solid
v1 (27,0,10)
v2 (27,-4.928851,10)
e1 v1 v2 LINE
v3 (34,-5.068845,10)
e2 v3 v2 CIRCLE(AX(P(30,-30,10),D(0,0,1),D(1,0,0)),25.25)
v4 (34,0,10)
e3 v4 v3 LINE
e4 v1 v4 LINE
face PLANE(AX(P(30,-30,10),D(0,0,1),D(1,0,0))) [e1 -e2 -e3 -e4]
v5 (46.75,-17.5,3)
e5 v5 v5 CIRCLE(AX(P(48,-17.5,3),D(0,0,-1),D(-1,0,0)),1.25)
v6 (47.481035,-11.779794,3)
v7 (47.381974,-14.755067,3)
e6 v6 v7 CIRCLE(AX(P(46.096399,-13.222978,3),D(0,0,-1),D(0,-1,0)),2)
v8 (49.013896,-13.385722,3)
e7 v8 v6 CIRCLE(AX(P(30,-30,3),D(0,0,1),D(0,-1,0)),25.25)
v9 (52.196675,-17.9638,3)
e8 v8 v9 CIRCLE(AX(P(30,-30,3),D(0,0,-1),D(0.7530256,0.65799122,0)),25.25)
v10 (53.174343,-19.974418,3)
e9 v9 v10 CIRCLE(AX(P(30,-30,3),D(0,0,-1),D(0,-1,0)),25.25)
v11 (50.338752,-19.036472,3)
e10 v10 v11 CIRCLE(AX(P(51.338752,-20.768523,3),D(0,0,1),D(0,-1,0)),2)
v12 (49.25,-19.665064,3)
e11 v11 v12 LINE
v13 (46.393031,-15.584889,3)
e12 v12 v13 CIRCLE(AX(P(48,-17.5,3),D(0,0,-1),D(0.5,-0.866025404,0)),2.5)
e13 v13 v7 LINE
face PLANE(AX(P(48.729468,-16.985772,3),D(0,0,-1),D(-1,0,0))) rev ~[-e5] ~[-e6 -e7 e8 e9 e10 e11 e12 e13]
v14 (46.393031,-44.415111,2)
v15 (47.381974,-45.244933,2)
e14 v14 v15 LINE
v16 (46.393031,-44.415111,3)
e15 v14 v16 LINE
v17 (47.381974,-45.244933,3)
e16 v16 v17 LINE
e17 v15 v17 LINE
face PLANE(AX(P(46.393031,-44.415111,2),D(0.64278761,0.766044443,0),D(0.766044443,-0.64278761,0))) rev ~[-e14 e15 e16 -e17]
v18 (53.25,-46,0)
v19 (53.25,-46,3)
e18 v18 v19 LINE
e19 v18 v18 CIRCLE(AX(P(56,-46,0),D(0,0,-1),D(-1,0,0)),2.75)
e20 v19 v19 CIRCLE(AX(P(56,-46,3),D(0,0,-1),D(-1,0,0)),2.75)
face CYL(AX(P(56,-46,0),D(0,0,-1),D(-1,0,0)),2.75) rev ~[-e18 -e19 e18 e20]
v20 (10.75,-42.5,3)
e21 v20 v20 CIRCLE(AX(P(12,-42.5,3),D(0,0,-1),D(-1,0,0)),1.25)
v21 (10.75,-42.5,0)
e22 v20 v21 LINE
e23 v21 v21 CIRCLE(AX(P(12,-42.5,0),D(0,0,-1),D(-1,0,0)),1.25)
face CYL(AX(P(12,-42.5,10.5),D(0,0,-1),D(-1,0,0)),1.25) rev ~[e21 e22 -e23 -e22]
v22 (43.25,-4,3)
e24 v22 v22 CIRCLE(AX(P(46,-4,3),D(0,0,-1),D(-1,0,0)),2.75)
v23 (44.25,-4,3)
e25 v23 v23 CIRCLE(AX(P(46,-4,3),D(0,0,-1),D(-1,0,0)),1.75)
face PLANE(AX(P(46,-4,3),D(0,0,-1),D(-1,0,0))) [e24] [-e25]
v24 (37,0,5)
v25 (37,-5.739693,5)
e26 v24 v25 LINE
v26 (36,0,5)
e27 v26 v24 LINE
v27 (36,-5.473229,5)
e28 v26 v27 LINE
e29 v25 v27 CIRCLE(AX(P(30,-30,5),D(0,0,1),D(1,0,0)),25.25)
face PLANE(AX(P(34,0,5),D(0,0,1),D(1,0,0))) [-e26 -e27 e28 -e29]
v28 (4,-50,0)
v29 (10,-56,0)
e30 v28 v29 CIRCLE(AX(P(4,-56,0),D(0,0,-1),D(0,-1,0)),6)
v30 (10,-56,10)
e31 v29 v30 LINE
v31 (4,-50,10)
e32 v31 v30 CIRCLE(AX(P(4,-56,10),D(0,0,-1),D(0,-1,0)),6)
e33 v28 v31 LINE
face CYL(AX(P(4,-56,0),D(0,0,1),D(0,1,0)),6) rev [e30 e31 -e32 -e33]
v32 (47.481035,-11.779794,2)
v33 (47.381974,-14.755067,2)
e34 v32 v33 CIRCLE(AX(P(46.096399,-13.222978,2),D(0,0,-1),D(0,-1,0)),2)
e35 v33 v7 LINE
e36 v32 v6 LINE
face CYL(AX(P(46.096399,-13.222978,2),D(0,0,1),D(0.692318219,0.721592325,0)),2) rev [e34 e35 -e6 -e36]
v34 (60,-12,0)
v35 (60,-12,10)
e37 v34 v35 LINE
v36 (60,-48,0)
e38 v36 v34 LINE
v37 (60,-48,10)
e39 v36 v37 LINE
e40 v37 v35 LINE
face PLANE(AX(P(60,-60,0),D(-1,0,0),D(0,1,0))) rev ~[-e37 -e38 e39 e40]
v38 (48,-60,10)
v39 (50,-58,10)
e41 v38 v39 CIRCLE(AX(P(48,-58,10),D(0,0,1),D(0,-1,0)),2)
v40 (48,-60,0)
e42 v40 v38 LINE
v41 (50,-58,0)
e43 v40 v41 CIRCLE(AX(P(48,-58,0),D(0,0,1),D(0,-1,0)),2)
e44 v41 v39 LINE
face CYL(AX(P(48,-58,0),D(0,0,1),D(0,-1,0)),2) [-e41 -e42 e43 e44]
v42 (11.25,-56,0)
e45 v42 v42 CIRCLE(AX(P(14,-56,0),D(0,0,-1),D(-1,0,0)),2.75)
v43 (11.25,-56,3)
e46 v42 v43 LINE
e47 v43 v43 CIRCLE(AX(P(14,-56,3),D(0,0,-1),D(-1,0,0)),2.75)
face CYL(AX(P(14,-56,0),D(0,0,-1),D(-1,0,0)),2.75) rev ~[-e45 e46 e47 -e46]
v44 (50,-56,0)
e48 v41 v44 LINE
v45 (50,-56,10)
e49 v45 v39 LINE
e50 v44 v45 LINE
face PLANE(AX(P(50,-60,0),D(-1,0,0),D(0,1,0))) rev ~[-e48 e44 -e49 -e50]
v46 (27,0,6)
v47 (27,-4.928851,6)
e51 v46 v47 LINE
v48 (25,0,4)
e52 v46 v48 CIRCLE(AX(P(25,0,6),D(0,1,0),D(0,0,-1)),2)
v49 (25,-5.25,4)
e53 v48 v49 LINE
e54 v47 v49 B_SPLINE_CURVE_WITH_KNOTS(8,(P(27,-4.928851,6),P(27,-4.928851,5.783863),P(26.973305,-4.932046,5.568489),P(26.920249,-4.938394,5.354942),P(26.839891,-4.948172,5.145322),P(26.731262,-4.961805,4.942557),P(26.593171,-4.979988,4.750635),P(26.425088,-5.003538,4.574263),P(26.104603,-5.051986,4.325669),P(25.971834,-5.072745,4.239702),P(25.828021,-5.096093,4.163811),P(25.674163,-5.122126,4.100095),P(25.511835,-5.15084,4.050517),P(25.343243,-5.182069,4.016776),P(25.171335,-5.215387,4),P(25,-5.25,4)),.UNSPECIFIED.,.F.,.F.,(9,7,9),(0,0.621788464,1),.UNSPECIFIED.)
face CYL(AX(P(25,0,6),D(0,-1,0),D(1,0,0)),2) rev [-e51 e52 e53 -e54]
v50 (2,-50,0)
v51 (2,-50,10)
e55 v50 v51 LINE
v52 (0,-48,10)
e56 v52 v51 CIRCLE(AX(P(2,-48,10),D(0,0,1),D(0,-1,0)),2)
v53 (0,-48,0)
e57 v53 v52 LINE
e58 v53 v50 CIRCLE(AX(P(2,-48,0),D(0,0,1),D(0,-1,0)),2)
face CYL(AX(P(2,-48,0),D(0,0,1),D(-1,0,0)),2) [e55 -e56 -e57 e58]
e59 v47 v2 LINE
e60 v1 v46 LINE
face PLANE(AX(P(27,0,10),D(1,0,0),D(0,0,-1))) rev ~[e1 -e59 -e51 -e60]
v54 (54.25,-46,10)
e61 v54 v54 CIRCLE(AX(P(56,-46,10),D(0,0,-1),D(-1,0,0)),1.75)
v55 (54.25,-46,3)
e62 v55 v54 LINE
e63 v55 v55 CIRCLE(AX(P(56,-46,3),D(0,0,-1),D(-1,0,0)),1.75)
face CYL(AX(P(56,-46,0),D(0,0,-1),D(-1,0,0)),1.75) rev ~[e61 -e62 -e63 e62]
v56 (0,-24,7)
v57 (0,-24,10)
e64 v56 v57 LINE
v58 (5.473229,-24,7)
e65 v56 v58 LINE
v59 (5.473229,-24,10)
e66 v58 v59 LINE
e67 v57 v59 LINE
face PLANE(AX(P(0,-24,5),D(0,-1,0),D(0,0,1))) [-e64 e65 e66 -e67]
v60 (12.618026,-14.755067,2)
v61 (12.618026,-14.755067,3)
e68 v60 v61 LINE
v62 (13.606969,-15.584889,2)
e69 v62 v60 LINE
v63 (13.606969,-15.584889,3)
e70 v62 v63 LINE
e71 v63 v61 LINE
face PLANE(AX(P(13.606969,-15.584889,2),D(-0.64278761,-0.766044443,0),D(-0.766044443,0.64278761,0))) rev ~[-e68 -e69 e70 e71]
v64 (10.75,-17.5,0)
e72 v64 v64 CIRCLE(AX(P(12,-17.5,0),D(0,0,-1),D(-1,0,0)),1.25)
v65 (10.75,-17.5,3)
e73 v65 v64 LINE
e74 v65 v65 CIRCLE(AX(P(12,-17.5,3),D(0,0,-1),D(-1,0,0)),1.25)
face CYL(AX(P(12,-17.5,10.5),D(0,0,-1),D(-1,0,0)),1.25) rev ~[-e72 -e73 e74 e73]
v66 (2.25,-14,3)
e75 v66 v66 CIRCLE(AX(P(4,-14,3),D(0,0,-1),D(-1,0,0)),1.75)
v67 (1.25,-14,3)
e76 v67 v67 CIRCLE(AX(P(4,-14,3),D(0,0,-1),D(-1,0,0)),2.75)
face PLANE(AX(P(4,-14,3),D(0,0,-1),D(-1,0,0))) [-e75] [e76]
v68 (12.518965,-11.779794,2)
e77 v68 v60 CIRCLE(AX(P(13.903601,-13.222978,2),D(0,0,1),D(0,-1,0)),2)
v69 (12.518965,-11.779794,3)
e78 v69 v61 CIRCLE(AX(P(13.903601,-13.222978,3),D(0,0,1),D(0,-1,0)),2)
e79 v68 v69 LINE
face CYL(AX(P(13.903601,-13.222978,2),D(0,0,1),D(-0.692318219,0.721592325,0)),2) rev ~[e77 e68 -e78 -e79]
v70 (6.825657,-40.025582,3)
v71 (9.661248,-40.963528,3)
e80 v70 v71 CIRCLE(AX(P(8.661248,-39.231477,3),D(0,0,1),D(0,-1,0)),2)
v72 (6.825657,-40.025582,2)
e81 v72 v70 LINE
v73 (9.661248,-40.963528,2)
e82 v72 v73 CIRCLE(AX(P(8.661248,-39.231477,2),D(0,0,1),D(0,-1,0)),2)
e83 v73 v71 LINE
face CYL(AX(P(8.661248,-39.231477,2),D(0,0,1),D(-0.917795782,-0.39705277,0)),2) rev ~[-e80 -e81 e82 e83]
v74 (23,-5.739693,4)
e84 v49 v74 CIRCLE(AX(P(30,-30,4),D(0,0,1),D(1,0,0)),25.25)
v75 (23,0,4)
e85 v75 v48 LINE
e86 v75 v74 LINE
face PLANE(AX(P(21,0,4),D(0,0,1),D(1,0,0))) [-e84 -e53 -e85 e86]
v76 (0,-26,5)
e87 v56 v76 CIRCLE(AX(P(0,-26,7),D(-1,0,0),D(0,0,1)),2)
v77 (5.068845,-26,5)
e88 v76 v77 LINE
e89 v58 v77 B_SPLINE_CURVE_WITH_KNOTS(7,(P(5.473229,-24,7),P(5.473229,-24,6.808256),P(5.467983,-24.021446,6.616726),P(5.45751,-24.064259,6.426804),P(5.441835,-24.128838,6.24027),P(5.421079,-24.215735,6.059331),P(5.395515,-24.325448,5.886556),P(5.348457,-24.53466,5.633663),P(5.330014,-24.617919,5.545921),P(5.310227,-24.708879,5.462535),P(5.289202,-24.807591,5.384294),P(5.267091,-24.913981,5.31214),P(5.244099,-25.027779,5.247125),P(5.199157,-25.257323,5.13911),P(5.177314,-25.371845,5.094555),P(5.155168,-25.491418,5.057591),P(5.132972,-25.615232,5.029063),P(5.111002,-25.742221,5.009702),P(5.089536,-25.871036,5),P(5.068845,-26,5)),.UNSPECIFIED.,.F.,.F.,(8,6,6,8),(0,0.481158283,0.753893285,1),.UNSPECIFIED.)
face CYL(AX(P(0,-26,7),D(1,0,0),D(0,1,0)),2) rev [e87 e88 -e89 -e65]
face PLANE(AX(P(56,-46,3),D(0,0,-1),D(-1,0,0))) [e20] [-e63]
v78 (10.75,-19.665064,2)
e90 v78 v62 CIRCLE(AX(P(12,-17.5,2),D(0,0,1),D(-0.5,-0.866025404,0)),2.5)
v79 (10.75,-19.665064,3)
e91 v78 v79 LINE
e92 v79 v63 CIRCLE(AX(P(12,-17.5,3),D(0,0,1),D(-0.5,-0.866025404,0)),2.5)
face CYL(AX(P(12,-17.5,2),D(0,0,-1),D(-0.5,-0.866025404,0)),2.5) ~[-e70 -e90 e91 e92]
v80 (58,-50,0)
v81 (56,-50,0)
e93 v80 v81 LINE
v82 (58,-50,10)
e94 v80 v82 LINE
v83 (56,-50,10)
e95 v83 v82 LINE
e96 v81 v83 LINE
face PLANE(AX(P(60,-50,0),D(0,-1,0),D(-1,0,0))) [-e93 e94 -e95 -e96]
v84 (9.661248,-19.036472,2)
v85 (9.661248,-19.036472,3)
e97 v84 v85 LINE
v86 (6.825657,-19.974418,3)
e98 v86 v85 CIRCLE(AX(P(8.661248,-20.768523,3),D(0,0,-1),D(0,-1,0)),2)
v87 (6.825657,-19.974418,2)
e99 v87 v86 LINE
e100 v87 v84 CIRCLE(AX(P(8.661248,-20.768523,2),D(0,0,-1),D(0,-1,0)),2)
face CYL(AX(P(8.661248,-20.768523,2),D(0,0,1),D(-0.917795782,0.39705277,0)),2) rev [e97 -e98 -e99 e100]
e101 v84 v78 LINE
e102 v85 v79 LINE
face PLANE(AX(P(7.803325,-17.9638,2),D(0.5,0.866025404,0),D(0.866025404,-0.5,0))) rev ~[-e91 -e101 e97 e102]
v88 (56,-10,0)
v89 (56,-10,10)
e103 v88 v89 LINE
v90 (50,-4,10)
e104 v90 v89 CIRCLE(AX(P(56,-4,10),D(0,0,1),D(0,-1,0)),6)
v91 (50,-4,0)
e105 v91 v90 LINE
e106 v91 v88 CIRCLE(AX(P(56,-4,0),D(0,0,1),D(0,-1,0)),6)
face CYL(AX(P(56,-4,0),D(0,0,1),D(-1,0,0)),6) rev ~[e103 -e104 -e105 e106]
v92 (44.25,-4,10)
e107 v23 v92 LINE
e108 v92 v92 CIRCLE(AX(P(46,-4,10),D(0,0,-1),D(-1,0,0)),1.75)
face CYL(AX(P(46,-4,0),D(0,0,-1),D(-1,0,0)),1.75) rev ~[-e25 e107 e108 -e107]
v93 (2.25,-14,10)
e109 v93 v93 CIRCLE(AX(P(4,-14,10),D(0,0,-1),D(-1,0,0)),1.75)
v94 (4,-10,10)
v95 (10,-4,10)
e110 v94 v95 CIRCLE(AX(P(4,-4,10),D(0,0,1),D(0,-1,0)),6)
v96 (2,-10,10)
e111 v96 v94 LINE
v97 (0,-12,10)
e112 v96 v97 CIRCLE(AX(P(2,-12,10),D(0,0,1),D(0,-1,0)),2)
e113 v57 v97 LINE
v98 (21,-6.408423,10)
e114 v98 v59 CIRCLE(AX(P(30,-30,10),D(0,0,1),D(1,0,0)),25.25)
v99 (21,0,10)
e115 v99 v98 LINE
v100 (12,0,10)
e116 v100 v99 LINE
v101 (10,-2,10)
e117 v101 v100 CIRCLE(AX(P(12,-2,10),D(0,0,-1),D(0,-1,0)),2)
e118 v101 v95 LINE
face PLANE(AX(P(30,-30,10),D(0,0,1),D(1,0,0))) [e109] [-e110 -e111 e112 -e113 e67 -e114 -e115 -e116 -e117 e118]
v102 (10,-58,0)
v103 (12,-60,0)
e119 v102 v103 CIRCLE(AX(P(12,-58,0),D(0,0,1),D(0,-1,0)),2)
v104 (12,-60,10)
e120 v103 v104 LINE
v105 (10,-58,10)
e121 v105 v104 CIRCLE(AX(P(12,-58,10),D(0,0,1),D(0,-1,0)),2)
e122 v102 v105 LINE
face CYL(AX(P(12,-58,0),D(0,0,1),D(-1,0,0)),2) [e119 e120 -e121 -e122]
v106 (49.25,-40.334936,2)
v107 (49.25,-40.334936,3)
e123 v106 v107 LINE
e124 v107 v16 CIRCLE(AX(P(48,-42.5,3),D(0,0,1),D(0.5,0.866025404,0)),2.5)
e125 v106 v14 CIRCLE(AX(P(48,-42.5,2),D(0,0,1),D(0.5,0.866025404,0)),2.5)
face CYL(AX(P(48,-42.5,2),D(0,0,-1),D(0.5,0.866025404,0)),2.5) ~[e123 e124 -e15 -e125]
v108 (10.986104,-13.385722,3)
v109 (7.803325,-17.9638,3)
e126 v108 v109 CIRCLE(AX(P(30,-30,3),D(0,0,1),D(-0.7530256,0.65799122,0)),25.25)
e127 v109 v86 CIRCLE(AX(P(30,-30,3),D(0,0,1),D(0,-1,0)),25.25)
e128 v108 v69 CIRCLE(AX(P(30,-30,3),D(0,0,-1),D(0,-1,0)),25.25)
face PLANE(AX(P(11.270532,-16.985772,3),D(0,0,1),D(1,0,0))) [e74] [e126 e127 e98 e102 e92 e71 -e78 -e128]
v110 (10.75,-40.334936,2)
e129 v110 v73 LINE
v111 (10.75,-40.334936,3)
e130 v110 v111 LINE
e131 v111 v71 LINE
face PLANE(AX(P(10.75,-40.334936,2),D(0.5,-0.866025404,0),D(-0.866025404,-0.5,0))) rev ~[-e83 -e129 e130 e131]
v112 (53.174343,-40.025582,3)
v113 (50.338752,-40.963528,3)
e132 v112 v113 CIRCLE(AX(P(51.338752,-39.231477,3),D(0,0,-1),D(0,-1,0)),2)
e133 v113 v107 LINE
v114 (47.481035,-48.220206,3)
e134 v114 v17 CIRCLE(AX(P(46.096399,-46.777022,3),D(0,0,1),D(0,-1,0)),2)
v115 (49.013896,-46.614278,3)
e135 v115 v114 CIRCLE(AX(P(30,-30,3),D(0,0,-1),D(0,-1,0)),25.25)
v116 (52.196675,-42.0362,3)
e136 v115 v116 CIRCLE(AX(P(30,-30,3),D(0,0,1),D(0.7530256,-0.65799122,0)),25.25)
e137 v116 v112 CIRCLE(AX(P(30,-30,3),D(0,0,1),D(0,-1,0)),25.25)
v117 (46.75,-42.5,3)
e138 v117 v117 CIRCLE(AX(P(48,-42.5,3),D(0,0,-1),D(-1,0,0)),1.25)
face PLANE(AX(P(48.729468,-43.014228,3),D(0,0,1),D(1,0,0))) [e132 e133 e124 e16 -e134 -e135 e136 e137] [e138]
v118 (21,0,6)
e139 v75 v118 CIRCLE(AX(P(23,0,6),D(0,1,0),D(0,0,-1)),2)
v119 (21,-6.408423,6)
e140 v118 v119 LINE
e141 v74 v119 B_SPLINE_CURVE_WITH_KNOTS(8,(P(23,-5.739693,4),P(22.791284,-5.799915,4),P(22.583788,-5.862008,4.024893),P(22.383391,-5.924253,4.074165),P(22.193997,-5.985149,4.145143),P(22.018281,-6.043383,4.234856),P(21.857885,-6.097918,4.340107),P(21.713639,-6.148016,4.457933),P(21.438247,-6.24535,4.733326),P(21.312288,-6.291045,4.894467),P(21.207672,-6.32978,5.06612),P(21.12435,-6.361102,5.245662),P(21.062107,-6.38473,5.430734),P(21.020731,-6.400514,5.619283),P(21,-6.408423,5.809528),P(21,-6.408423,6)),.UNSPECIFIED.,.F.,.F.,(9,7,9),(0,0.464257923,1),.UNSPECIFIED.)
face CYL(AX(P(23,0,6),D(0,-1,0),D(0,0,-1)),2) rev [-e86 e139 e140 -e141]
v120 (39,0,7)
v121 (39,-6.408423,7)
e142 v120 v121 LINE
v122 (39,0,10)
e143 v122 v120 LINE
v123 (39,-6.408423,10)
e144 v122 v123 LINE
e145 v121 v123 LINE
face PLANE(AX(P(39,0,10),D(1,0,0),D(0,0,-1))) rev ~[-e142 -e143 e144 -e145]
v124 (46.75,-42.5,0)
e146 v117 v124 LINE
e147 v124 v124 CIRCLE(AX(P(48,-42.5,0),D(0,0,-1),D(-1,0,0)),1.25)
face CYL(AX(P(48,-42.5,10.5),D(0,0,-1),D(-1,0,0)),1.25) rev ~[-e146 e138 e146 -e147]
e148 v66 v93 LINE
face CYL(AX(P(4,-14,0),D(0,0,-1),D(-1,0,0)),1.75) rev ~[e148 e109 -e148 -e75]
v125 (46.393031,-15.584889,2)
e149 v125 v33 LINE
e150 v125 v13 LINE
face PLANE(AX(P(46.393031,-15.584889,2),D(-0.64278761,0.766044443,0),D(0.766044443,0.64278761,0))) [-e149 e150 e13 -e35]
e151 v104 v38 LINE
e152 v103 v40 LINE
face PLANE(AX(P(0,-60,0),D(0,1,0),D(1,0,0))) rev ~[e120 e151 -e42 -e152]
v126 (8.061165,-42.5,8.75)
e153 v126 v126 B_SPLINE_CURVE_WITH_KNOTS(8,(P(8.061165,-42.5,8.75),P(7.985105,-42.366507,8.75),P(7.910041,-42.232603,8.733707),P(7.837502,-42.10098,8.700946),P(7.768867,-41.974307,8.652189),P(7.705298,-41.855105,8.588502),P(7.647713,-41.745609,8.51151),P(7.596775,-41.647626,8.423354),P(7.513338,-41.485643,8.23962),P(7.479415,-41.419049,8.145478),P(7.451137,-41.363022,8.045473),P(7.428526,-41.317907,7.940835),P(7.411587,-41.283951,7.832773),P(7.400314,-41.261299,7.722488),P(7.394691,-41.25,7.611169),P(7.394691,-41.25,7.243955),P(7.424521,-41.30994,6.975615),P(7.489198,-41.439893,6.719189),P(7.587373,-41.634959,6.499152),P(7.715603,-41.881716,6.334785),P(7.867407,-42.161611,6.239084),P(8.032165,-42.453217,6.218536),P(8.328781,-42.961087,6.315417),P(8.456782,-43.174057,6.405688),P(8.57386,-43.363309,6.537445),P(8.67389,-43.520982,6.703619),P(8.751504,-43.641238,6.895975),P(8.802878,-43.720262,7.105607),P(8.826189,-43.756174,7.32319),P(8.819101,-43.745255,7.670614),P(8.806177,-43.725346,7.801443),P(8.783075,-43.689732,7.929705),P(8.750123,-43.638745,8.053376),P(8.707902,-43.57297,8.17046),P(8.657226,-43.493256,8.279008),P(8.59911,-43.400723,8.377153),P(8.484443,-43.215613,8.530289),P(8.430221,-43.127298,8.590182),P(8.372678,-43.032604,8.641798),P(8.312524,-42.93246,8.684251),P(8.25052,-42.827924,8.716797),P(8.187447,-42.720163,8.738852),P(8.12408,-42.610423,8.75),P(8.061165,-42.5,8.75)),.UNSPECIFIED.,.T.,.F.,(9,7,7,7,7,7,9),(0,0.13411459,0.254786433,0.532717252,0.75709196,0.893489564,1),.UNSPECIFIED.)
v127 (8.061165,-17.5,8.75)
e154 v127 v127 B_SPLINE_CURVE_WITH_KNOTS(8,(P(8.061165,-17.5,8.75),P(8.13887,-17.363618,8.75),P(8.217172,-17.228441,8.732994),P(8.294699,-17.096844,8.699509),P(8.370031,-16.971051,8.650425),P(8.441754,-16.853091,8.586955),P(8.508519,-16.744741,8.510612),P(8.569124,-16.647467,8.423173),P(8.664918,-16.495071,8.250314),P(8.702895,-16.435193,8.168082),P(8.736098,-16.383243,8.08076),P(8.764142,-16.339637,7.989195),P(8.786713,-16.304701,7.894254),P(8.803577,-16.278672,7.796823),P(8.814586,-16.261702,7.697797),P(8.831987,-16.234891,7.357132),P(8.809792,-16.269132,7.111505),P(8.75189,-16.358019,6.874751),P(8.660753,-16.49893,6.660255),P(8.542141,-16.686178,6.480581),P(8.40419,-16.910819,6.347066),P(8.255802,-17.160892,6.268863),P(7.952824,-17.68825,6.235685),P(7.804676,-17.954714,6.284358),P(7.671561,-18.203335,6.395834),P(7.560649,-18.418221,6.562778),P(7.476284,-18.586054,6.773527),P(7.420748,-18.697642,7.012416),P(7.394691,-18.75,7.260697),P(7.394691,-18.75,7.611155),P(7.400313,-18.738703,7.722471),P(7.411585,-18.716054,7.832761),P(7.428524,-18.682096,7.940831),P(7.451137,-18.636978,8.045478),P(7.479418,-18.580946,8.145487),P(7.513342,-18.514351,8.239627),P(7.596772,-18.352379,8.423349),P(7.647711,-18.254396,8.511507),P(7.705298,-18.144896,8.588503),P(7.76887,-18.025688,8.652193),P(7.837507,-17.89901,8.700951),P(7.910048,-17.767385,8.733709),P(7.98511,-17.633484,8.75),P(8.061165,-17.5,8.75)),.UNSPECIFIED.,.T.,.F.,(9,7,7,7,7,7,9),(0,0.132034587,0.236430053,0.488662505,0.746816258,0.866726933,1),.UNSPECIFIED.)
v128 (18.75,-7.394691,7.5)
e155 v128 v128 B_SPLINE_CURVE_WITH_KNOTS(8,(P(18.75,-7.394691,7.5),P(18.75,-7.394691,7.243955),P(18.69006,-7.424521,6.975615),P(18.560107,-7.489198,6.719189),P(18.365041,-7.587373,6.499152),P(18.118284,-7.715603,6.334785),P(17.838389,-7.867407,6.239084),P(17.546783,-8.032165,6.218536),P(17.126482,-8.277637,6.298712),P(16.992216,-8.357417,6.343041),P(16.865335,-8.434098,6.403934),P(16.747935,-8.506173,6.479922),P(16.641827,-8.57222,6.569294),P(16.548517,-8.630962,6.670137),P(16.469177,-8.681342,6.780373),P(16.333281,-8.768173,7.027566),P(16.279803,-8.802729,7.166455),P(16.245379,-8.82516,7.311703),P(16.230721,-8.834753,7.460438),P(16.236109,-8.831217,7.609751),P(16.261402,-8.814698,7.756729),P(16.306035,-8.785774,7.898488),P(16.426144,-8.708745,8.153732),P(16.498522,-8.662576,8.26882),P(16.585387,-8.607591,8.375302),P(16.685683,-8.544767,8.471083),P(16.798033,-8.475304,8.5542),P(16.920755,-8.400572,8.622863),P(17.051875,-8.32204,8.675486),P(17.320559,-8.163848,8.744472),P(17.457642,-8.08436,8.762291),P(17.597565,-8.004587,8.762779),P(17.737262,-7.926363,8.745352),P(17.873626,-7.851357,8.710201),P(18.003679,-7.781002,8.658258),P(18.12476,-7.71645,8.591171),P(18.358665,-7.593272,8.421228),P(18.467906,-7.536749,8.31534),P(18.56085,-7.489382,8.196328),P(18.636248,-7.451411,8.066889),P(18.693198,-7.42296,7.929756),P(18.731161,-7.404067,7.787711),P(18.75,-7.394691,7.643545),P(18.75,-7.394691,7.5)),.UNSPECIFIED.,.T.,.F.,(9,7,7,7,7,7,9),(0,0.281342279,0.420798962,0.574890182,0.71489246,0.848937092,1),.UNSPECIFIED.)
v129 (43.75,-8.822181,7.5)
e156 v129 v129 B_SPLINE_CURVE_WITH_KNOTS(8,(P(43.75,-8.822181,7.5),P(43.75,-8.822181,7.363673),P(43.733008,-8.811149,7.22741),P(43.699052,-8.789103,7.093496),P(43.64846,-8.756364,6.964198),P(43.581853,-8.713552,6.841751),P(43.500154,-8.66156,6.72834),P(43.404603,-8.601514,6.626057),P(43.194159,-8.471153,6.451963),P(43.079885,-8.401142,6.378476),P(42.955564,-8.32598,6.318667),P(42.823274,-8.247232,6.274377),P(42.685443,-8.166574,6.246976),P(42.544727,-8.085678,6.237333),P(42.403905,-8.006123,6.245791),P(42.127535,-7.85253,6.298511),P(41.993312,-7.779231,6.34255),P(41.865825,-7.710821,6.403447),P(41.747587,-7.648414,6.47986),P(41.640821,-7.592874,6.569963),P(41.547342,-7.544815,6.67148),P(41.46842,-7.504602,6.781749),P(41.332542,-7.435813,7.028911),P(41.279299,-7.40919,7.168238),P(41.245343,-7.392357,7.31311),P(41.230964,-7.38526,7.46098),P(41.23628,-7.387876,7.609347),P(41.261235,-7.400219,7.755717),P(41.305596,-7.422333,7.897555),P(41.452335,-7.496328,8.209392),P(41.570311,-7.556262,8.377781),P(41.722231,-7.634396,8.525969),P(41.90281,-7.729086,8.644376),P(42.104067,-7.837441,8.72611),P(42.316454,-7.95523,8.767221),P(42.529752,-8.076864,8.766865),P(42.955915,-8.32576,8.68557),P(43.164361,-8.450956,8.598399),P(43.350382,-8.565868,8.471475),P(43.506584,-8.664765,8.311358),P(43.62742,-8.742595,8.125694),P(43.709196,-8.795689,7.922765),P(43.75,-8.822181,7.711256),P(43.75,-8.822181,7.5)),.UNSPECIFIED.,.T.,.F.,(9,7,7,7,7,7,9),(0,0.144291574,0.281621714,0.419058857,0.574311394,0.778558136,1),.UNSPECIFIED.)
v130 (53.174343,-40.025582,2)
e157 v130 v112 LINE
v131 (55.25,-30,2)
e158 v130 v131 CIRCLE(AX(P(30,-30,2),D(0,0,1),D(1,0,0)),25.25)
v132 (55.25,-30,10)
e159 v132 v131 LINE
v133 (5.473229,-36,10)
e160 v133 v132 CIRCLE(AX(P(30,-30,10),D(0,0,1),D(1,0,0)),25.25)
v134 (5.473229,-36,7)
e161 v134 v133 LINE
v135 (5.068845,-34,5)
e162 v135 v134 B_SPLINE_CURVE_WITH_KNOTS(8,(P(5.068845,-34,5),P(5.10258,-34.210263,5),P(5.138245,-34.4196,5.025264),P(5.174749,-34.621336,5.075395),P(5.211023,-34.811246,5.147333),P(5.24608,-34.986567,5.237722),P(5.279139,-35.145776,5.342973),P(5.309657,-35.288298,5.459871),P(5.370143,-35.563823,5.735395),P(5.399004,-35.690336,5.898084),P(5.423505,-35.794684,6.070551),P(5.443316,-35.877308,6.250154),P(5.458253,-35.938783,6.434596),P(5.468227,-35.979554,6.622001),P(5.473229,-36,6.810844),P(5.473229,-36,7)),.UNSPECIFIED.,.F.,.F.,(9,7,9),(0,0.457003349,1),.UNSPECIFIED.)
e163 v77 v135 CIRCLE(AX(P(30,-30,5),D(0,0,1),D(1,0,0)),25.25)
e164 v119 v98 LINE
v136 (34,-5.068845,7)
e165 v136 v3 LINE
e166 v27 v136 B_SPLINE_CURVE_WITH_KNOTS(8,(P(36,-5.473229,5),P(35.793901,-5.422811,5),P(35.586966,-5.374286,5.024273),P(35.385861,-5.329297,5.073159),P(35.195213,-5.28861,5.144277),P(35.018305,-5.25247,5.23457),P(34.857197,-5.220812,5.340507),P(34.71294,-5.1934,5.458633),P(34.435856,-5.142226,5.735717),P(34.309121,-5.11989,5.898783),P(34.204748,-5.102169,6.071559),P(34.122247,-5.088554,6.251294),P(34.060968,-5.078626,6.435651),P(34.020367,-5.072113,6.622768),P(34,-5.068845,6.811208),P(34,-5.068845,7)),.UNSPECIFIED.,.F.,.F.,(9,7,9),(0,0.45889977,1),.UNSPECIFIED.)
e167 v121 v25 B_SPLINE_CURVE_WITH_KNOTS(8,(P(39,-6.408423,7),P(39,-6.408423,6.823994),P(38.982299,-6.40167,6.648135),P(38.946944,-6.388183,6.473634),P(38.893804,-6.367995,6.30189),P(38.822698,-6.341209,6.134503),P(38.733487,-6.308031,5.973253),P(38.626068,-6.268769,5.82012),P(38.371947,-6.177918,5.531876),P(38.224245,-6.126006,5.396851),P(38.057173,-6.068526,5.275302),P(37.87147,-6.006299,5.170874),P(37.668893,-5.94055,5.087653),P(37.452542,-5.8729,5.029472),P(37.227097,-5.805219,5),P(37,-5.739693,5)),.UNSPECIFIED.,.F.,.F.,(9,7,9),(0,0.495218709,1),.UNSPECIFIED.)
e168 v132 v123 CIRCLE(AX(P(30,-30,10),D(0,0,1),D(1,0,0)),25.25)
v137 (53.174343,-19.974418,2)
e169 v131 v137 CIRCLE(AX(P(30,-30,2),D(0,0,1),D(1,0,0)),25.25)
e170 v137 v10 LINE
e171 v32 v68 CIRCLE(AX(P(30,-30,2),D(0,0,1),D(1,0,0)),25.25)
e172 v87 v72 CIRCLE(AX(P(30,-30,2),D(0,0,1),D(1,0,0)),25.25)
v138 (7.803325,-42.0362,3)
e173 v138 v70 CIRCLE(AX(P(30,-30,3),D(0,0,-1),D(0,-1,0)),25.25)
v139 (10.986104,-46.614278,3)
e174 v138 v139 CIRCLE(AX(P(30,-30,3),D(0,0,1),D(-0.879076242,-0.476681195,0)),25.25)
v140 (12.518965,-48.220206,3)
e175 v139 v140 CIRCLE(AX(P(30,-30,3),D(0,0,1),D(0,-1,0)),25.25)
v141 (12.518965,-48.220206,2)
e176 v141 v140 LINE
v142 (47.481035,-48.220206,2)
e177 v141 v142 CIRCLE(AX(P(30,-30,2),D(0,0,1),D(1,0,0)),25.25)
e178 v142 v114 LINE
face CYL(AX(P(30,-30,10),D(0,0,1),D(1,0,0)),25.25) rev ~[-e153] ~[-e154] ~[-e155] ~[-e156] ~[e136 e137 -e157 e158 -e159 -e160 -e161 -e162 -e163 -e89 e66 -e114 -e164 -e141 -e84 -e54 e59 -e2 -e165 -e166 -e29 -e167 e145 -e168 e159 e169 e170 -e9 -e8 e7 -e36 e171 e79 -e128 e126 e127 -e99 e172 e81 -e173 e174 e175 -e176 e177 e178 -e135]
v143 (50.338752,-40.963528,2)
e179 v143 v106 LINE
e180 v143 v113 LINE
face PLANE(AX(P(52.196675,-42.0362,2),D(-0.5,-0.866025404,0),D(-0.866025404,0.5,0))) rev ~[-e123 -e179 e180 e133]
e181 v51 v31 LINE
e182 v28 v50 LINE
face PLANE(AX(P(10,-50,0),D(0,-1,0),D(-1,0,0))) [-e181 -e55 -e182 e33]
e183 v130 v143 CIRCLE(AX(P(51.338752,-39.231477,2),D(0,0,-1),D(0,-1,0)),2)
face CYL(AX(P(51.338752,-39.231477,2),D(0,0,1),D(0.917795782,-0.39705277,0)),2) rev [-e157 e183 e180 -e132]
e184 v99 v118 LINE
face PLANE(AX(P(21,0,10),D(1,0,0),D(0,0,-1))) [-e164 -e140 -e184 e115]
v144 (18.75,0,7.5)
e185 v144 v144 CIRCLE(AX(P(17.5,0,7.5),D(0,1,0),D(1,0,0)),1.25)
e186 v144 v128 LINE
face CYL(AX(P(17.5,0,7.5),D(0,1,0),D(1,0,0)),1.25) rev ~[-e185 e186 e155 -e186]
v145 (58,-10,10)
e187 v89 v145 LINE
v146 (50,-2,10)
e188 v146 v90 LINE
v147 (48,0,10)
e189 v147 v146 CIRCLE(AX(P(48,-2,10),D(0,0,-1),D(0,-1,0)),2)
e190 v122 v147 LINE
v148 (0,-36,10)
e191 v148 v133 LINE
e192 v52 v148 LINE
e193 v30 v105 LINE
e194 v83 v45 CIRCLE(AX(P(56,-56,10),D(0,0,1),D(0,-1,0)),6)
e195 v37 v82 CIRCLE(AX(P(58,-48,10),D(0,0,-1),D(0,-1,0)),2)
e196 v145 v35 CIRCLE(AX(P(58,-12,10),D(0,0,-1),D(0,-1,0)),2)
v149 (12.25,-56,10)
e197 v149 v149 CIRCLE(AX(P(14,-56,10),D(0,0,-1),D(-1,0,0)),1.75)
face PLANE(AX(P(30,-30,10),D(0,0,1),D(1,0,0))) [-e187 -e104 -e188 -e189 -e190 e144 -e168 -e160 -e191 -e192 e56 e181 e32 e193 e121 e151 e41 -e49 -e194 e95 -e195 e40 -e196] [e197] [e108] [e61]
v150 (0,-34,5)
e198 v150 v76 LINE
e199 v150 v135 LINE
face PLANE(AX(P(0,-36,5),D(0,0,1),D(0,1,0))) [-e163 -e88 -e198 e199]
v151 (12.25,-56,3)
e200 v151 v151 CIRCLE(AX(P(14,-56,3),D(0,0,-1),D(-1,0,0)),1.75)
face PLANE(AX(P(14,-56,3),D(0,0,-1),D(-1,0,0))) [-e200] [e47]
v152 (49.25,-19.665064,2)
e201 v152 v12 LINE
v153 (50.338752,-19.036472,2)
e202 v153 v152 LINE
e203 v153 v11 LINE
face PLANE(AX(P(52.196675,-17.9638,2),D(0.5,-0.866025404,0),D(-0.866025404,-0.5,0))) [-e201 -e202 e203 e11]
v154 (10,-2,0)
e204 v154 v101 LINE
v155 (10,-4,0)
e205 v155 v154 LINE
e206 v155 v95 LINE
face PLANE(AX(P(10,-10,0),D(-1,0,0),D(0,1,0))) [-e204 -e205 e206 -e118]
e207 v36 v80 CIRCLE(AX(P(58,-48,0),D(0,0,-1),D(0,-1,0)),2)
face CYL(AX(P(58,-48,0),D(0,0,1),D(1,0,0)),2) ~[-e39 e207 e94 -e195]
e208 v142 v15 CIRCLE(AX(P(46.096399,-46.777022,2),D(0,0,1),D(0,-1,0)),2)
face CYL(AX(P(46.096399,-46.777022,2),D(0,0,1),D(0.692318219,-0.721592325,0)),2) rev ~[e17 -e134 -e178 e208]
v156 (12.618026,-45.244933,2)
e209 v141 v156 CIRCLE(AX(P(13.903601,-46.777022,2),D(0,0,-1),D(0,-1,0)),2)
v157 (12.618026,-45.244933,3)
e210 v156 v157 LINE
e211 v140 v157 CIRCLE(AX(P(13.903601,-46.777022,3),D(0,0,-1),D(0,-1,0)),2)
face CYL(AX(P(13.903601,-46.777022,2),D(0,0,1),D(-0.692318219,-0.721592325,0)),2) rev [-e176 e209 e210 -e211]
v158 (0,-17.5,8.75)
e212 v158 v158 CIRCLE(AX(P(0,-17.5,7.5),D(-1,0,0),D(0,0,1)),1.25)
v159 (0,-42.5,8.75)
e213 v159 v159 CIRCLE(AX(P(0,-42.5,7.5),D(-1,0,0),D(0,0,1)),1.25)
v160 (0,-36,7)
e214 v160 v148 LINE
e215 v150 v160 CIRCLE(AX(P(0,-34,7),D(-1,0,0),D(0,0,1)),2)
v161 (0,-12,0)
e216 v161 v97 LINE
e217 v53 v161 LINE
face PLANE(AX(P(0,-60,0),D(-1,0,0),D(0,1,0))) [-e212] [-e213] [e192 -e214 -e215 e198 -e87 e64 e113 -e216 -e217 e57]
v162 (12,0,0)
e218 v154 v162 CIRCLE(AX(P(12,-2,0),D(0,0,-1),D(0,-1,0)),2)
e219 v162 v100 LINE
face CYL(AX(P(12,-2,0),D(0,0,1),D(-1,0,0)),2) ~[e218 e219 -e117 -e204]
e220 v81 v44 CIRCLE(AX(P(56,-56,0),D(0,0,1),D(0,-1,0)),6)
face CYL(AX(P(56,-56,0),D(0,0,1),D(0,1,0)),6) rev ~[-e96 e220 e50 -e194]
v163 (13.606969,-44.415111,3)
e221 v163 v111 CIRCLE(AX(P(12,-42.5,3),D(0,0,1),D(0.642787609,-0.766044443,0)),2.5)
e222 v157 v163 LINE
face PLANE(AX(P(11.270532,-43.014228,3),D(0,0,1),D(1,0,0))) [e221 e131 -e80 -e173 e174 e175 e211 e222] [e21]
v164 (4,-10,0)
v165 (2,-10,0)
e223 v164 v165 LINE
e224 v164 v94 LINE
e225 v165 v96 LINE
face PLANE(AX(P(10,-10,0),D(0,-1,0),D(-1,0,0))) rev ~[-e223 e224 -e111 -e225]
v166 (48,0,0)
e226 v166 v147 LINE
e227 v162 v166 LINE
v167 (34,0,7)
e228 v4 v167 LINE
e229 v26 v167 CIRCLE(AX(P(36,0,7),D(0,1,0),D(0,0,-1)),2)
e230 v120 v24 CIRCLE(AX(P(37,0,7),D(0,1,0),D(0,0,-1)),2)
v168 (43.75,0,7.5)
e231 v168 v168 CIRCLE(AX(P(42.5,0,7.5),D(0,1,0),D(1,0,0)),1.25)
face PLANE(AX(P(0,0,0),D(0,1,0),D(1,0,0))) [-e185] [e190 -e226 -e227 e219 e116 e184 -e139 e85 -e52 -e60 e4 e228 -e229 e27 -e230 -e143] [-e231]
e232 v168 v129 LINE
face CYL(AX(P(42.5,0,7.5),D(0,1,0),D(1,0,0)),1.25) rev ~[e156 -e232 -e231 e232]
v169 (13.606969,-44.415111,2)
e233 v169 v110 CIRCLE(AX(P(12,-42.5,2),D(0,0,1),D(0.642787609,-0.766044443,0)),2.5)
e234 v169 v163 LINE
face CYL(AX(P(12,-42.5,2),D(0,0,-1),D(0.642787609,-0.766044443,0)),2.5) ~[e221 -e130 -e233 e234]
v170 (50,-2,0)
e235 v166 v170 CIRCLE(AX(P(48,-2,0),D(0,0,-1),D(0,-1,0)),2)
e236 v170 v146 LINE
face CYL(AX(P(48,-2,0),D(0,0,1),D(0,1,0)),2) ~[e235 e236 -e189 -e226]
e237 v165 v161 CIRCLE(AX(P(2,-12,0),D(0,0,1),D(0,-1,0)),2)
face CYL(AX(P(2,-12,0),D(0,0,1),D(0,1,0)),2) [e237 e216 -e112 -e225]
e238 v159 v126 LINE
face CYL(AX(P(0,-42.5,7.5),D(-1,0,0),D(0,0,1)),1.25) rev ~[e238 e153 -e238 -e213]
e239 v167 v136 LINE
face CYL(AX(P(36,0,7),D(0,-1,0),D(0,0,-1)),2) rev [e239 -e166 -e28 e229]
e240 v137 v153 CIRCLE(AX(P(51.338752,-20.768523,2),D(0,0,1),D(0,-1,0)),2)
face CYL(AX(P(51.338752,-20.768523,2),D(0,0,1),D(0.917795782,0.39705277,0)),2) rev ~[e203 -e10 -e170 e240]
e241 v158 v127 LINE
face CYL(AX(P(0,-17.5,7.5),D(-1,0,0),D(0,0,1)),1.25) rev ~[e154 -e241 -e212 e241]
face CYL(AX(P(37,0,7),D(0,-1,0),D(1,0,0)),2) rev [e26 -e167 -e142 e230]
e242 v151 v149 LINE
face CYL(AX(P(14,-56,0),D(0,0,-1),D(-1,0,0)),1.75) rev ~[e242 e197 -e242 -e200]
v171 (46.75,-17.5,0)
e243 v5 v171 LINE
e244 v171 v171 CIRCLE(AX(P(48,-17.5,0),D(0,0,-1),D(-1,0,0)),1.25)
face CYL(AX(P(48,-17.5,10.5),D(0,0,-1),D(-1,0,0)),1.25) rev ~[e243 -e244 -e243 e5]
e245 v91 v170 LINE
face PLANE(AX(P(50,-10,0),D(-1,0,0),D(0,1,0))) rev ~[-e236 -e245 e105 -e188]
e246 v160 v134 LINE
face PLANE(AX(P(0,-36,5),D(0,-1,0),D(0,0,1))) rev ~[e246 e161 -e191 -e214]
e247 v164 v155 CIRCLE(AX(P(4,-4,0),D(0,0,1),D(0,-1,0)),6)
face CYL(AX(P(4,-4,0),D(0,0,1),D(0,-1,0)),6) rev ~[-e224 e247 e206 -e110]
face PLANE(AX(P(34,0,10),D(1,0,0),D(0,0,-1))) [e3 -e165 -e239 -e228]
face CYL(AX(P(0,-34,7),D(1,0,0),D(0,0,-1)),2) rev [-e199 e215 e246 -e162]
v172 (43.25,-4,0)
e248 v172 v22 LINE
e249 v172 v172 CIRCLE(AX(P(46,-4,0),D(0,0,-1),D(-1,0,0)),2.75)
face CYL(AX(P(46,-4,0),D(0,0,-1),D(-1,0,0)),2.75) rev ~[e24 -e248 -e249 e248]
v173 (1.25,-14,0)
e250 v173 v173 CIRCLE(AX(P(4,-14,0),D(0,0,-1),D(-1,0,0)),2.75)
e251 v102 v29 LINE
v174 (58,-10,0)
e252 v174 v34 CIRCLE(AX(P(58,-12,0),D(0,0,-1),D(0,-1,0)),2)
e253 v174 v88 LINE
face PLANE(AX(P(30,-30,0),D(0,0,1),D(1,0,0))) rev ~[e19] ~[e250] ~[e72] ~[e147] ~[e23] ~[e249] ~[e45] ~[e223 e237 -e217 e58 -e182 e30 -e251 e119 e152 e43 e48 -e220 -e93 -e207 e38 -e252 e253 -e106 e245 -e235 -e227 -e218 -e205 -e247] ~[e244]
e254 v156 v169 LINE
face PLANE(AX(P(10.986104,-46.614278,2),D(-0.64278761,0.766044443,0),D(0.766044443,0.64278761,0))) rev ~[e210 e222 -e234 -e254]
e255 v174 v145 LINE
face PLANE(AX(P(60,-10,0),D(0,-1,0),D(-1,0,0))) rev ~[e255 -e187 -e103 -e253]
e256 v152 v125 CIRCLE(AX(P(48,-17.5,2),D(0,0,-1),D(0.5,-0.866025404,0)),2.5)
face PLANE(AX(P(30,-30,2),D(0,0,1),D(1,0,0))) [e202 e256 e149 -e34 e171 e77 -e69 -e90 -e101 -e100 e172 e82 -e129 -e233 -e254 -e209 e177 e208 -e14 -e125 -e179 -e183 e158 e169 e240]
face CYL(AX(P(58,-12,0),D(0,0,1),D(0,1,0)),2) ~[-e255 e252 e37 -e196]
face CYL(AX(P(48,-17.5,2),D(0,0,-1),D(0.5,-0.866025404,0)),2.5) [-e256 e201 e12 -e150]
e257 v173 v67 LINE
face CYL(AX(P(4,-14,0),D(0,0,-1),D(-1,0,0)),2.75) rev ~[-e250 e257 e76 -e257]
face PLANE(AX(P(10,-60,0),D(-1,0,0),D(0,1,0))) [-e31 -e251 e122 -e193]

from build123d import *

# Parameters (mm, degrees)
SKETCH_1_W             = 60
SKETCH_1_H             = 60
EXTRUDE_1_DEPTH        = 10
SKETCH_2_R             = 25.25
CUT_EXTRUDE_1_DEPTH    = 8
SKETCH_4_W             = 10
SKETCH_4_H             = 10
CUT_EXTRUDE_3_DEPTH    = 11
FILLET_1_R             = 6
FILLET_2_R             = 2
SKETCH_5_R             = 1.75
CUT_EXTRUDE_4_DEPTH    = 11
EXTRUDE_2_DEPTH        = 1
FILLET_5_R             = 2
HOLE_WIZARD_M3_2_D     = 2.5
HOLE_WIZARD_M3_2_DEPTH = 7.5
HOLE_WIZARD_M3_2_TIP   = 0.751075774
SKETCH_21_R            = 1.25
SKETCH_21_W            = 5
SKETCH_21_H            = 5
SKETCH_21_W_2          = 6
SKETCH_21_H_2          = 6
CUT_EXTRUDE_9_DEPTH    = 10
SKETCH_23_R            = 1.25
SKETCH_23_W            = 5
SKETCH_23_H            = 12
CUT_EXTRUDE_10_DEPTH   = 10
SKETCH_25_R            = 2.75
CUT_EXTRUDE_11_DEPTH   = 3
FILLET_6_R             = 2


with BuildPart() as part:
    # 草图1 → 凸台-拉伸1 (new body)
    with BuildSketch(Plane.XY):
        with Locations((30, -30)):
            Rectangle(SKETCH_1_W, SKETCH_1_H)
    extrude(amount=EXTRUDE_1_DEPTH)

    # 草图2 → 切除-拉伸1 (cut)
    with BuildSketch(Plane.XY.offset(10)):
        with Locations((30, -30)):
            Circle(SKETCH_2_R)
    extrude(amount=-CUT_EXTRUDE_1_DEPTH, mode=Mode.SUBTRACT)

    # 草图4 → 切除-拉伸3 (cut, through all)
    with BuildSketch(Plane(origin=(0, 0, 0), x_dir=(-1, 0, 0), z_dir=(0, 0, -1))):
        with Locations((-5, -5)):
            Rectangle(SKETCH_4_W, SKETCH_4_H)
        with Locations((-55, -5)):
            Rectangle(SKETCH_4_W, SKETCH_4_H)
        with Locations((-5, -55)):
            Rectangle(SKETCH_4_W, SKETCH_4_H)
        with Locations((-55, -55)):
            Rectangle(SKETCH_4_W, SKETCH_4_H)
    extrude(amount=-CUT_EXTRUDE_3_DEPTH, mode=Mode.SUBTRACT)

    # 圆角1
    fillet_1_edges = [part.edges().sort_by_distance(p)[0] for p in [
        (50, -50, 5),
        (10, -50, 5),
        (10, -10, 5),
        (50, -10, 5),
    ]]
    fillet(fillet_1_edges, radius=FILLET_1_R)

    # 圆角2
    fillet_2_edges = [part.edges().sort_by_distance(p)[0] for p in [
        (60, -50, 5),
        (50, -60, 5),
        (0, -50, 5),
        (10, -60, 5),
        (10, 0, 5),
        (0, -10, 5),
        (60, -10, 5),
        (50, 0, 5),
    ]]
    fillet(fillet_2_edges, radius=FILLET_2_R)

    # 草图5 → 切除-拉伸4 (cut, through all)
    with BuildSketch(Plane(origin=(0, 0, 0), x_dir=(-1, 0, 0), z_dir=(0, 0, -1))):
        with Locations((-4, -14)):
            Circle(SKETCH_5_R)
        with Locations((-14, -56)):
            Circle(SKETCH_5_R)
        with Locations((-56, -46)):
            Circle(SKETCH_5_R)
        with Locations((-46, -4)):
            Circle(SKETCH_5_R)
    extrude(amount=-CUT_EXTRUDE_4_DEPTH, mode=Mode.SUBTRACT)

    # 草图15 → 凸台-拉伸2 (add)
    with BuildSketch(Plane.XY.offset(2)):
        with BuildLine():
            Line((46.393030976, -15.584888892), (49.013896395, -13.385721686))
            ThreePointArc((49.013896395, -13.385721686), (50.732040439, -15.58663817), (52.196675107, -17.963799843))
            Line((52.196675107, -17.963799843), (49.25, -19.665063509))
            ThreePointArc((49.25, -19.665063509), (45.952119889, -18.933941091), (46.393030976, -15.584888892))
        make_face()
        with BuildLine():
            Line((13.606969024, -15.584888892), (10.986103605, -13.385721686))
            ThreePointArc((10.986103605, -13.385721686), (9.267959561, -15.58663817), (7.803324893, -17.963799843))
            Line((7.803324893, -17.963799843), (10.75, -19.665063509))
            ThreePointArc((10.75, -19.665063509), (14.047880111, -18.933941091), (13.606969024, -15.584888892))
        make_face()
        with BuildLine():
            Line((46.393030976, -44.415111108), (49.013896395, -46.614278314))
            ThreePointArc((49.013896395, -46.614278314), (50.732040439, -44.41336183), (52.196675107, -42.036200157))
            Line((52.196675107, -42.036200157), (49.25, -40.334936491))
            ThreePointArc((49.25, -40.334936491), (45.952119889, -41.066058909), (46.393030976, -44.415111108))
        make_face()
        with BuildLine():
            Line((10.75, -40.334936491), (7.803324893, -42.036200157))
            ThreePointArc((7.803324893, -42.036200157), (9.267959561, -44.41336183), (10.986103605, -46.614278314))
            Line((10.986103605, -46.614278314), (13.606969024, -44.415111108))
            ThreePointArc((13.606969024, -44.415111108), (14.047880111, -41.066058909), (10.75, -40.334936491))
        make_face()
    extrude(amount=EXTRUDE_2_DEPTH)

    # 圆角5
    fillet_5_edges = [part.edges().sort_by_distance(p)[0] for p in [
        (10.986103605, -13.385721686, 2.5),
        (7.803324893, -17.963799843, 2.5),
        (52.196675107, -17.963799843, 2.5),
        (49.013896395, -13.385721686, 2.5),
        (49.013896395, -46.614278314, 2.5),
        (52.196675107, -42.036200157, 2.5),
        (7.803324893, -42.036200157, 2.5),
        (10.986103605, -46.614278314, 2.5),
    ]]
    fillet(fillet_5_edges, radius=FILLET_5_R)

    # M3 螺纹孔2
    with Locations(Plane.XY.offset(3)):
        with Locations((12, -17.5), (12, -42.5), (48, -17.5), (48, -42.5)):
            Hole(HOLE_WIZARD_M3_2_D / 2, depth=HOLE_WIZARD_M3_2_DEPTH)
            with Locations((0, 0, -(HOLE_WIZARD_M3_2_DEPTH + HOLE_WIZARD_M3_2_TIP / 2))):  # 118° drill point
                Cone(0, HOLE_WIZARD_M3_2_D / 2, HOLE_WIZARD_M3_2_TIP, mode=Mode.SUBTRACT)

    # 草图21 → 切除-拉伸9 (cut)
    with BuildSketch(Plane(origin=(0, 0, 0), x_dir=(1, 0, 0), z_dir=(0, 1, 0))):
        with Locations((17.5, -7.5)):
            Circle(SKETCH_21_R)
        with Locations((42.5, -7.5)):
            Circle(SKETCH_21_R)
        with Locations((36.5, -7.5)):
            Rectangle(SKETCH_21_W, SKETCH_21_H)
        with Locations((24, -7)):
            Rectangle(SKETCH_21_W_2, SKETCH_21_H_2)
    extrude(amount=-CUT_EXTRUDE_9_DEPTH, mode=Mode.SUBTRACT)

    # 草图23 → 切除-拉伸10 (cut)
    with BuildSketch(Plane.ZY):
        with Locations((7.5, -17.5)):
            Circle(SKETCH_23_R)
        with Locations((7.5, -42.5)):
            Circle(SKETCH_23_R)
        with Locations((7.5, -30)):
            Rectangle(SKETCH_23_W, SKETCH_23_H)
    extrude(amount=-CUT_EXTRUDE_10_DEPTH, mode=Mode.SUBTRACT)

    # 草图25 → 切除-拉伸11 (cut)
    with BuildSketch(Plane(origin=(0, 0, 0), x_dir=(-1, 0, 0), z_dir=(0, 0, -1))):
        with Locations((-4, -14)):
            Circle(SKETCH_25_R)
        with Locations((-46, -4)):
            Circle(SKETCH_25_R)
        with Locations((-56, -46)):
            Circle(SKETCH_25_R)
        with Locations((-14, -56)):
            Circle(SKETCH_25_R)
    extrude(amount=-CUT_EXTRUDE_11_DEPTH, mode=Mode.SUBTRACT)

    # 圆角6
    fillet_6_edges = [part.edges().sort_by_distance(p)[0] for p in [
        (21, -3.204211557, 4),
        (27, -2.464425621, 4),
        (34, -2.534422396, 5),
        (39, -3.204211557, 5),
        (2.736614456, -36, 5),
        (2.736614456, -24, 5),
    ]]
    fillet(fillet_6_edges, radius=FILLET_6_R)


solid = part.part
